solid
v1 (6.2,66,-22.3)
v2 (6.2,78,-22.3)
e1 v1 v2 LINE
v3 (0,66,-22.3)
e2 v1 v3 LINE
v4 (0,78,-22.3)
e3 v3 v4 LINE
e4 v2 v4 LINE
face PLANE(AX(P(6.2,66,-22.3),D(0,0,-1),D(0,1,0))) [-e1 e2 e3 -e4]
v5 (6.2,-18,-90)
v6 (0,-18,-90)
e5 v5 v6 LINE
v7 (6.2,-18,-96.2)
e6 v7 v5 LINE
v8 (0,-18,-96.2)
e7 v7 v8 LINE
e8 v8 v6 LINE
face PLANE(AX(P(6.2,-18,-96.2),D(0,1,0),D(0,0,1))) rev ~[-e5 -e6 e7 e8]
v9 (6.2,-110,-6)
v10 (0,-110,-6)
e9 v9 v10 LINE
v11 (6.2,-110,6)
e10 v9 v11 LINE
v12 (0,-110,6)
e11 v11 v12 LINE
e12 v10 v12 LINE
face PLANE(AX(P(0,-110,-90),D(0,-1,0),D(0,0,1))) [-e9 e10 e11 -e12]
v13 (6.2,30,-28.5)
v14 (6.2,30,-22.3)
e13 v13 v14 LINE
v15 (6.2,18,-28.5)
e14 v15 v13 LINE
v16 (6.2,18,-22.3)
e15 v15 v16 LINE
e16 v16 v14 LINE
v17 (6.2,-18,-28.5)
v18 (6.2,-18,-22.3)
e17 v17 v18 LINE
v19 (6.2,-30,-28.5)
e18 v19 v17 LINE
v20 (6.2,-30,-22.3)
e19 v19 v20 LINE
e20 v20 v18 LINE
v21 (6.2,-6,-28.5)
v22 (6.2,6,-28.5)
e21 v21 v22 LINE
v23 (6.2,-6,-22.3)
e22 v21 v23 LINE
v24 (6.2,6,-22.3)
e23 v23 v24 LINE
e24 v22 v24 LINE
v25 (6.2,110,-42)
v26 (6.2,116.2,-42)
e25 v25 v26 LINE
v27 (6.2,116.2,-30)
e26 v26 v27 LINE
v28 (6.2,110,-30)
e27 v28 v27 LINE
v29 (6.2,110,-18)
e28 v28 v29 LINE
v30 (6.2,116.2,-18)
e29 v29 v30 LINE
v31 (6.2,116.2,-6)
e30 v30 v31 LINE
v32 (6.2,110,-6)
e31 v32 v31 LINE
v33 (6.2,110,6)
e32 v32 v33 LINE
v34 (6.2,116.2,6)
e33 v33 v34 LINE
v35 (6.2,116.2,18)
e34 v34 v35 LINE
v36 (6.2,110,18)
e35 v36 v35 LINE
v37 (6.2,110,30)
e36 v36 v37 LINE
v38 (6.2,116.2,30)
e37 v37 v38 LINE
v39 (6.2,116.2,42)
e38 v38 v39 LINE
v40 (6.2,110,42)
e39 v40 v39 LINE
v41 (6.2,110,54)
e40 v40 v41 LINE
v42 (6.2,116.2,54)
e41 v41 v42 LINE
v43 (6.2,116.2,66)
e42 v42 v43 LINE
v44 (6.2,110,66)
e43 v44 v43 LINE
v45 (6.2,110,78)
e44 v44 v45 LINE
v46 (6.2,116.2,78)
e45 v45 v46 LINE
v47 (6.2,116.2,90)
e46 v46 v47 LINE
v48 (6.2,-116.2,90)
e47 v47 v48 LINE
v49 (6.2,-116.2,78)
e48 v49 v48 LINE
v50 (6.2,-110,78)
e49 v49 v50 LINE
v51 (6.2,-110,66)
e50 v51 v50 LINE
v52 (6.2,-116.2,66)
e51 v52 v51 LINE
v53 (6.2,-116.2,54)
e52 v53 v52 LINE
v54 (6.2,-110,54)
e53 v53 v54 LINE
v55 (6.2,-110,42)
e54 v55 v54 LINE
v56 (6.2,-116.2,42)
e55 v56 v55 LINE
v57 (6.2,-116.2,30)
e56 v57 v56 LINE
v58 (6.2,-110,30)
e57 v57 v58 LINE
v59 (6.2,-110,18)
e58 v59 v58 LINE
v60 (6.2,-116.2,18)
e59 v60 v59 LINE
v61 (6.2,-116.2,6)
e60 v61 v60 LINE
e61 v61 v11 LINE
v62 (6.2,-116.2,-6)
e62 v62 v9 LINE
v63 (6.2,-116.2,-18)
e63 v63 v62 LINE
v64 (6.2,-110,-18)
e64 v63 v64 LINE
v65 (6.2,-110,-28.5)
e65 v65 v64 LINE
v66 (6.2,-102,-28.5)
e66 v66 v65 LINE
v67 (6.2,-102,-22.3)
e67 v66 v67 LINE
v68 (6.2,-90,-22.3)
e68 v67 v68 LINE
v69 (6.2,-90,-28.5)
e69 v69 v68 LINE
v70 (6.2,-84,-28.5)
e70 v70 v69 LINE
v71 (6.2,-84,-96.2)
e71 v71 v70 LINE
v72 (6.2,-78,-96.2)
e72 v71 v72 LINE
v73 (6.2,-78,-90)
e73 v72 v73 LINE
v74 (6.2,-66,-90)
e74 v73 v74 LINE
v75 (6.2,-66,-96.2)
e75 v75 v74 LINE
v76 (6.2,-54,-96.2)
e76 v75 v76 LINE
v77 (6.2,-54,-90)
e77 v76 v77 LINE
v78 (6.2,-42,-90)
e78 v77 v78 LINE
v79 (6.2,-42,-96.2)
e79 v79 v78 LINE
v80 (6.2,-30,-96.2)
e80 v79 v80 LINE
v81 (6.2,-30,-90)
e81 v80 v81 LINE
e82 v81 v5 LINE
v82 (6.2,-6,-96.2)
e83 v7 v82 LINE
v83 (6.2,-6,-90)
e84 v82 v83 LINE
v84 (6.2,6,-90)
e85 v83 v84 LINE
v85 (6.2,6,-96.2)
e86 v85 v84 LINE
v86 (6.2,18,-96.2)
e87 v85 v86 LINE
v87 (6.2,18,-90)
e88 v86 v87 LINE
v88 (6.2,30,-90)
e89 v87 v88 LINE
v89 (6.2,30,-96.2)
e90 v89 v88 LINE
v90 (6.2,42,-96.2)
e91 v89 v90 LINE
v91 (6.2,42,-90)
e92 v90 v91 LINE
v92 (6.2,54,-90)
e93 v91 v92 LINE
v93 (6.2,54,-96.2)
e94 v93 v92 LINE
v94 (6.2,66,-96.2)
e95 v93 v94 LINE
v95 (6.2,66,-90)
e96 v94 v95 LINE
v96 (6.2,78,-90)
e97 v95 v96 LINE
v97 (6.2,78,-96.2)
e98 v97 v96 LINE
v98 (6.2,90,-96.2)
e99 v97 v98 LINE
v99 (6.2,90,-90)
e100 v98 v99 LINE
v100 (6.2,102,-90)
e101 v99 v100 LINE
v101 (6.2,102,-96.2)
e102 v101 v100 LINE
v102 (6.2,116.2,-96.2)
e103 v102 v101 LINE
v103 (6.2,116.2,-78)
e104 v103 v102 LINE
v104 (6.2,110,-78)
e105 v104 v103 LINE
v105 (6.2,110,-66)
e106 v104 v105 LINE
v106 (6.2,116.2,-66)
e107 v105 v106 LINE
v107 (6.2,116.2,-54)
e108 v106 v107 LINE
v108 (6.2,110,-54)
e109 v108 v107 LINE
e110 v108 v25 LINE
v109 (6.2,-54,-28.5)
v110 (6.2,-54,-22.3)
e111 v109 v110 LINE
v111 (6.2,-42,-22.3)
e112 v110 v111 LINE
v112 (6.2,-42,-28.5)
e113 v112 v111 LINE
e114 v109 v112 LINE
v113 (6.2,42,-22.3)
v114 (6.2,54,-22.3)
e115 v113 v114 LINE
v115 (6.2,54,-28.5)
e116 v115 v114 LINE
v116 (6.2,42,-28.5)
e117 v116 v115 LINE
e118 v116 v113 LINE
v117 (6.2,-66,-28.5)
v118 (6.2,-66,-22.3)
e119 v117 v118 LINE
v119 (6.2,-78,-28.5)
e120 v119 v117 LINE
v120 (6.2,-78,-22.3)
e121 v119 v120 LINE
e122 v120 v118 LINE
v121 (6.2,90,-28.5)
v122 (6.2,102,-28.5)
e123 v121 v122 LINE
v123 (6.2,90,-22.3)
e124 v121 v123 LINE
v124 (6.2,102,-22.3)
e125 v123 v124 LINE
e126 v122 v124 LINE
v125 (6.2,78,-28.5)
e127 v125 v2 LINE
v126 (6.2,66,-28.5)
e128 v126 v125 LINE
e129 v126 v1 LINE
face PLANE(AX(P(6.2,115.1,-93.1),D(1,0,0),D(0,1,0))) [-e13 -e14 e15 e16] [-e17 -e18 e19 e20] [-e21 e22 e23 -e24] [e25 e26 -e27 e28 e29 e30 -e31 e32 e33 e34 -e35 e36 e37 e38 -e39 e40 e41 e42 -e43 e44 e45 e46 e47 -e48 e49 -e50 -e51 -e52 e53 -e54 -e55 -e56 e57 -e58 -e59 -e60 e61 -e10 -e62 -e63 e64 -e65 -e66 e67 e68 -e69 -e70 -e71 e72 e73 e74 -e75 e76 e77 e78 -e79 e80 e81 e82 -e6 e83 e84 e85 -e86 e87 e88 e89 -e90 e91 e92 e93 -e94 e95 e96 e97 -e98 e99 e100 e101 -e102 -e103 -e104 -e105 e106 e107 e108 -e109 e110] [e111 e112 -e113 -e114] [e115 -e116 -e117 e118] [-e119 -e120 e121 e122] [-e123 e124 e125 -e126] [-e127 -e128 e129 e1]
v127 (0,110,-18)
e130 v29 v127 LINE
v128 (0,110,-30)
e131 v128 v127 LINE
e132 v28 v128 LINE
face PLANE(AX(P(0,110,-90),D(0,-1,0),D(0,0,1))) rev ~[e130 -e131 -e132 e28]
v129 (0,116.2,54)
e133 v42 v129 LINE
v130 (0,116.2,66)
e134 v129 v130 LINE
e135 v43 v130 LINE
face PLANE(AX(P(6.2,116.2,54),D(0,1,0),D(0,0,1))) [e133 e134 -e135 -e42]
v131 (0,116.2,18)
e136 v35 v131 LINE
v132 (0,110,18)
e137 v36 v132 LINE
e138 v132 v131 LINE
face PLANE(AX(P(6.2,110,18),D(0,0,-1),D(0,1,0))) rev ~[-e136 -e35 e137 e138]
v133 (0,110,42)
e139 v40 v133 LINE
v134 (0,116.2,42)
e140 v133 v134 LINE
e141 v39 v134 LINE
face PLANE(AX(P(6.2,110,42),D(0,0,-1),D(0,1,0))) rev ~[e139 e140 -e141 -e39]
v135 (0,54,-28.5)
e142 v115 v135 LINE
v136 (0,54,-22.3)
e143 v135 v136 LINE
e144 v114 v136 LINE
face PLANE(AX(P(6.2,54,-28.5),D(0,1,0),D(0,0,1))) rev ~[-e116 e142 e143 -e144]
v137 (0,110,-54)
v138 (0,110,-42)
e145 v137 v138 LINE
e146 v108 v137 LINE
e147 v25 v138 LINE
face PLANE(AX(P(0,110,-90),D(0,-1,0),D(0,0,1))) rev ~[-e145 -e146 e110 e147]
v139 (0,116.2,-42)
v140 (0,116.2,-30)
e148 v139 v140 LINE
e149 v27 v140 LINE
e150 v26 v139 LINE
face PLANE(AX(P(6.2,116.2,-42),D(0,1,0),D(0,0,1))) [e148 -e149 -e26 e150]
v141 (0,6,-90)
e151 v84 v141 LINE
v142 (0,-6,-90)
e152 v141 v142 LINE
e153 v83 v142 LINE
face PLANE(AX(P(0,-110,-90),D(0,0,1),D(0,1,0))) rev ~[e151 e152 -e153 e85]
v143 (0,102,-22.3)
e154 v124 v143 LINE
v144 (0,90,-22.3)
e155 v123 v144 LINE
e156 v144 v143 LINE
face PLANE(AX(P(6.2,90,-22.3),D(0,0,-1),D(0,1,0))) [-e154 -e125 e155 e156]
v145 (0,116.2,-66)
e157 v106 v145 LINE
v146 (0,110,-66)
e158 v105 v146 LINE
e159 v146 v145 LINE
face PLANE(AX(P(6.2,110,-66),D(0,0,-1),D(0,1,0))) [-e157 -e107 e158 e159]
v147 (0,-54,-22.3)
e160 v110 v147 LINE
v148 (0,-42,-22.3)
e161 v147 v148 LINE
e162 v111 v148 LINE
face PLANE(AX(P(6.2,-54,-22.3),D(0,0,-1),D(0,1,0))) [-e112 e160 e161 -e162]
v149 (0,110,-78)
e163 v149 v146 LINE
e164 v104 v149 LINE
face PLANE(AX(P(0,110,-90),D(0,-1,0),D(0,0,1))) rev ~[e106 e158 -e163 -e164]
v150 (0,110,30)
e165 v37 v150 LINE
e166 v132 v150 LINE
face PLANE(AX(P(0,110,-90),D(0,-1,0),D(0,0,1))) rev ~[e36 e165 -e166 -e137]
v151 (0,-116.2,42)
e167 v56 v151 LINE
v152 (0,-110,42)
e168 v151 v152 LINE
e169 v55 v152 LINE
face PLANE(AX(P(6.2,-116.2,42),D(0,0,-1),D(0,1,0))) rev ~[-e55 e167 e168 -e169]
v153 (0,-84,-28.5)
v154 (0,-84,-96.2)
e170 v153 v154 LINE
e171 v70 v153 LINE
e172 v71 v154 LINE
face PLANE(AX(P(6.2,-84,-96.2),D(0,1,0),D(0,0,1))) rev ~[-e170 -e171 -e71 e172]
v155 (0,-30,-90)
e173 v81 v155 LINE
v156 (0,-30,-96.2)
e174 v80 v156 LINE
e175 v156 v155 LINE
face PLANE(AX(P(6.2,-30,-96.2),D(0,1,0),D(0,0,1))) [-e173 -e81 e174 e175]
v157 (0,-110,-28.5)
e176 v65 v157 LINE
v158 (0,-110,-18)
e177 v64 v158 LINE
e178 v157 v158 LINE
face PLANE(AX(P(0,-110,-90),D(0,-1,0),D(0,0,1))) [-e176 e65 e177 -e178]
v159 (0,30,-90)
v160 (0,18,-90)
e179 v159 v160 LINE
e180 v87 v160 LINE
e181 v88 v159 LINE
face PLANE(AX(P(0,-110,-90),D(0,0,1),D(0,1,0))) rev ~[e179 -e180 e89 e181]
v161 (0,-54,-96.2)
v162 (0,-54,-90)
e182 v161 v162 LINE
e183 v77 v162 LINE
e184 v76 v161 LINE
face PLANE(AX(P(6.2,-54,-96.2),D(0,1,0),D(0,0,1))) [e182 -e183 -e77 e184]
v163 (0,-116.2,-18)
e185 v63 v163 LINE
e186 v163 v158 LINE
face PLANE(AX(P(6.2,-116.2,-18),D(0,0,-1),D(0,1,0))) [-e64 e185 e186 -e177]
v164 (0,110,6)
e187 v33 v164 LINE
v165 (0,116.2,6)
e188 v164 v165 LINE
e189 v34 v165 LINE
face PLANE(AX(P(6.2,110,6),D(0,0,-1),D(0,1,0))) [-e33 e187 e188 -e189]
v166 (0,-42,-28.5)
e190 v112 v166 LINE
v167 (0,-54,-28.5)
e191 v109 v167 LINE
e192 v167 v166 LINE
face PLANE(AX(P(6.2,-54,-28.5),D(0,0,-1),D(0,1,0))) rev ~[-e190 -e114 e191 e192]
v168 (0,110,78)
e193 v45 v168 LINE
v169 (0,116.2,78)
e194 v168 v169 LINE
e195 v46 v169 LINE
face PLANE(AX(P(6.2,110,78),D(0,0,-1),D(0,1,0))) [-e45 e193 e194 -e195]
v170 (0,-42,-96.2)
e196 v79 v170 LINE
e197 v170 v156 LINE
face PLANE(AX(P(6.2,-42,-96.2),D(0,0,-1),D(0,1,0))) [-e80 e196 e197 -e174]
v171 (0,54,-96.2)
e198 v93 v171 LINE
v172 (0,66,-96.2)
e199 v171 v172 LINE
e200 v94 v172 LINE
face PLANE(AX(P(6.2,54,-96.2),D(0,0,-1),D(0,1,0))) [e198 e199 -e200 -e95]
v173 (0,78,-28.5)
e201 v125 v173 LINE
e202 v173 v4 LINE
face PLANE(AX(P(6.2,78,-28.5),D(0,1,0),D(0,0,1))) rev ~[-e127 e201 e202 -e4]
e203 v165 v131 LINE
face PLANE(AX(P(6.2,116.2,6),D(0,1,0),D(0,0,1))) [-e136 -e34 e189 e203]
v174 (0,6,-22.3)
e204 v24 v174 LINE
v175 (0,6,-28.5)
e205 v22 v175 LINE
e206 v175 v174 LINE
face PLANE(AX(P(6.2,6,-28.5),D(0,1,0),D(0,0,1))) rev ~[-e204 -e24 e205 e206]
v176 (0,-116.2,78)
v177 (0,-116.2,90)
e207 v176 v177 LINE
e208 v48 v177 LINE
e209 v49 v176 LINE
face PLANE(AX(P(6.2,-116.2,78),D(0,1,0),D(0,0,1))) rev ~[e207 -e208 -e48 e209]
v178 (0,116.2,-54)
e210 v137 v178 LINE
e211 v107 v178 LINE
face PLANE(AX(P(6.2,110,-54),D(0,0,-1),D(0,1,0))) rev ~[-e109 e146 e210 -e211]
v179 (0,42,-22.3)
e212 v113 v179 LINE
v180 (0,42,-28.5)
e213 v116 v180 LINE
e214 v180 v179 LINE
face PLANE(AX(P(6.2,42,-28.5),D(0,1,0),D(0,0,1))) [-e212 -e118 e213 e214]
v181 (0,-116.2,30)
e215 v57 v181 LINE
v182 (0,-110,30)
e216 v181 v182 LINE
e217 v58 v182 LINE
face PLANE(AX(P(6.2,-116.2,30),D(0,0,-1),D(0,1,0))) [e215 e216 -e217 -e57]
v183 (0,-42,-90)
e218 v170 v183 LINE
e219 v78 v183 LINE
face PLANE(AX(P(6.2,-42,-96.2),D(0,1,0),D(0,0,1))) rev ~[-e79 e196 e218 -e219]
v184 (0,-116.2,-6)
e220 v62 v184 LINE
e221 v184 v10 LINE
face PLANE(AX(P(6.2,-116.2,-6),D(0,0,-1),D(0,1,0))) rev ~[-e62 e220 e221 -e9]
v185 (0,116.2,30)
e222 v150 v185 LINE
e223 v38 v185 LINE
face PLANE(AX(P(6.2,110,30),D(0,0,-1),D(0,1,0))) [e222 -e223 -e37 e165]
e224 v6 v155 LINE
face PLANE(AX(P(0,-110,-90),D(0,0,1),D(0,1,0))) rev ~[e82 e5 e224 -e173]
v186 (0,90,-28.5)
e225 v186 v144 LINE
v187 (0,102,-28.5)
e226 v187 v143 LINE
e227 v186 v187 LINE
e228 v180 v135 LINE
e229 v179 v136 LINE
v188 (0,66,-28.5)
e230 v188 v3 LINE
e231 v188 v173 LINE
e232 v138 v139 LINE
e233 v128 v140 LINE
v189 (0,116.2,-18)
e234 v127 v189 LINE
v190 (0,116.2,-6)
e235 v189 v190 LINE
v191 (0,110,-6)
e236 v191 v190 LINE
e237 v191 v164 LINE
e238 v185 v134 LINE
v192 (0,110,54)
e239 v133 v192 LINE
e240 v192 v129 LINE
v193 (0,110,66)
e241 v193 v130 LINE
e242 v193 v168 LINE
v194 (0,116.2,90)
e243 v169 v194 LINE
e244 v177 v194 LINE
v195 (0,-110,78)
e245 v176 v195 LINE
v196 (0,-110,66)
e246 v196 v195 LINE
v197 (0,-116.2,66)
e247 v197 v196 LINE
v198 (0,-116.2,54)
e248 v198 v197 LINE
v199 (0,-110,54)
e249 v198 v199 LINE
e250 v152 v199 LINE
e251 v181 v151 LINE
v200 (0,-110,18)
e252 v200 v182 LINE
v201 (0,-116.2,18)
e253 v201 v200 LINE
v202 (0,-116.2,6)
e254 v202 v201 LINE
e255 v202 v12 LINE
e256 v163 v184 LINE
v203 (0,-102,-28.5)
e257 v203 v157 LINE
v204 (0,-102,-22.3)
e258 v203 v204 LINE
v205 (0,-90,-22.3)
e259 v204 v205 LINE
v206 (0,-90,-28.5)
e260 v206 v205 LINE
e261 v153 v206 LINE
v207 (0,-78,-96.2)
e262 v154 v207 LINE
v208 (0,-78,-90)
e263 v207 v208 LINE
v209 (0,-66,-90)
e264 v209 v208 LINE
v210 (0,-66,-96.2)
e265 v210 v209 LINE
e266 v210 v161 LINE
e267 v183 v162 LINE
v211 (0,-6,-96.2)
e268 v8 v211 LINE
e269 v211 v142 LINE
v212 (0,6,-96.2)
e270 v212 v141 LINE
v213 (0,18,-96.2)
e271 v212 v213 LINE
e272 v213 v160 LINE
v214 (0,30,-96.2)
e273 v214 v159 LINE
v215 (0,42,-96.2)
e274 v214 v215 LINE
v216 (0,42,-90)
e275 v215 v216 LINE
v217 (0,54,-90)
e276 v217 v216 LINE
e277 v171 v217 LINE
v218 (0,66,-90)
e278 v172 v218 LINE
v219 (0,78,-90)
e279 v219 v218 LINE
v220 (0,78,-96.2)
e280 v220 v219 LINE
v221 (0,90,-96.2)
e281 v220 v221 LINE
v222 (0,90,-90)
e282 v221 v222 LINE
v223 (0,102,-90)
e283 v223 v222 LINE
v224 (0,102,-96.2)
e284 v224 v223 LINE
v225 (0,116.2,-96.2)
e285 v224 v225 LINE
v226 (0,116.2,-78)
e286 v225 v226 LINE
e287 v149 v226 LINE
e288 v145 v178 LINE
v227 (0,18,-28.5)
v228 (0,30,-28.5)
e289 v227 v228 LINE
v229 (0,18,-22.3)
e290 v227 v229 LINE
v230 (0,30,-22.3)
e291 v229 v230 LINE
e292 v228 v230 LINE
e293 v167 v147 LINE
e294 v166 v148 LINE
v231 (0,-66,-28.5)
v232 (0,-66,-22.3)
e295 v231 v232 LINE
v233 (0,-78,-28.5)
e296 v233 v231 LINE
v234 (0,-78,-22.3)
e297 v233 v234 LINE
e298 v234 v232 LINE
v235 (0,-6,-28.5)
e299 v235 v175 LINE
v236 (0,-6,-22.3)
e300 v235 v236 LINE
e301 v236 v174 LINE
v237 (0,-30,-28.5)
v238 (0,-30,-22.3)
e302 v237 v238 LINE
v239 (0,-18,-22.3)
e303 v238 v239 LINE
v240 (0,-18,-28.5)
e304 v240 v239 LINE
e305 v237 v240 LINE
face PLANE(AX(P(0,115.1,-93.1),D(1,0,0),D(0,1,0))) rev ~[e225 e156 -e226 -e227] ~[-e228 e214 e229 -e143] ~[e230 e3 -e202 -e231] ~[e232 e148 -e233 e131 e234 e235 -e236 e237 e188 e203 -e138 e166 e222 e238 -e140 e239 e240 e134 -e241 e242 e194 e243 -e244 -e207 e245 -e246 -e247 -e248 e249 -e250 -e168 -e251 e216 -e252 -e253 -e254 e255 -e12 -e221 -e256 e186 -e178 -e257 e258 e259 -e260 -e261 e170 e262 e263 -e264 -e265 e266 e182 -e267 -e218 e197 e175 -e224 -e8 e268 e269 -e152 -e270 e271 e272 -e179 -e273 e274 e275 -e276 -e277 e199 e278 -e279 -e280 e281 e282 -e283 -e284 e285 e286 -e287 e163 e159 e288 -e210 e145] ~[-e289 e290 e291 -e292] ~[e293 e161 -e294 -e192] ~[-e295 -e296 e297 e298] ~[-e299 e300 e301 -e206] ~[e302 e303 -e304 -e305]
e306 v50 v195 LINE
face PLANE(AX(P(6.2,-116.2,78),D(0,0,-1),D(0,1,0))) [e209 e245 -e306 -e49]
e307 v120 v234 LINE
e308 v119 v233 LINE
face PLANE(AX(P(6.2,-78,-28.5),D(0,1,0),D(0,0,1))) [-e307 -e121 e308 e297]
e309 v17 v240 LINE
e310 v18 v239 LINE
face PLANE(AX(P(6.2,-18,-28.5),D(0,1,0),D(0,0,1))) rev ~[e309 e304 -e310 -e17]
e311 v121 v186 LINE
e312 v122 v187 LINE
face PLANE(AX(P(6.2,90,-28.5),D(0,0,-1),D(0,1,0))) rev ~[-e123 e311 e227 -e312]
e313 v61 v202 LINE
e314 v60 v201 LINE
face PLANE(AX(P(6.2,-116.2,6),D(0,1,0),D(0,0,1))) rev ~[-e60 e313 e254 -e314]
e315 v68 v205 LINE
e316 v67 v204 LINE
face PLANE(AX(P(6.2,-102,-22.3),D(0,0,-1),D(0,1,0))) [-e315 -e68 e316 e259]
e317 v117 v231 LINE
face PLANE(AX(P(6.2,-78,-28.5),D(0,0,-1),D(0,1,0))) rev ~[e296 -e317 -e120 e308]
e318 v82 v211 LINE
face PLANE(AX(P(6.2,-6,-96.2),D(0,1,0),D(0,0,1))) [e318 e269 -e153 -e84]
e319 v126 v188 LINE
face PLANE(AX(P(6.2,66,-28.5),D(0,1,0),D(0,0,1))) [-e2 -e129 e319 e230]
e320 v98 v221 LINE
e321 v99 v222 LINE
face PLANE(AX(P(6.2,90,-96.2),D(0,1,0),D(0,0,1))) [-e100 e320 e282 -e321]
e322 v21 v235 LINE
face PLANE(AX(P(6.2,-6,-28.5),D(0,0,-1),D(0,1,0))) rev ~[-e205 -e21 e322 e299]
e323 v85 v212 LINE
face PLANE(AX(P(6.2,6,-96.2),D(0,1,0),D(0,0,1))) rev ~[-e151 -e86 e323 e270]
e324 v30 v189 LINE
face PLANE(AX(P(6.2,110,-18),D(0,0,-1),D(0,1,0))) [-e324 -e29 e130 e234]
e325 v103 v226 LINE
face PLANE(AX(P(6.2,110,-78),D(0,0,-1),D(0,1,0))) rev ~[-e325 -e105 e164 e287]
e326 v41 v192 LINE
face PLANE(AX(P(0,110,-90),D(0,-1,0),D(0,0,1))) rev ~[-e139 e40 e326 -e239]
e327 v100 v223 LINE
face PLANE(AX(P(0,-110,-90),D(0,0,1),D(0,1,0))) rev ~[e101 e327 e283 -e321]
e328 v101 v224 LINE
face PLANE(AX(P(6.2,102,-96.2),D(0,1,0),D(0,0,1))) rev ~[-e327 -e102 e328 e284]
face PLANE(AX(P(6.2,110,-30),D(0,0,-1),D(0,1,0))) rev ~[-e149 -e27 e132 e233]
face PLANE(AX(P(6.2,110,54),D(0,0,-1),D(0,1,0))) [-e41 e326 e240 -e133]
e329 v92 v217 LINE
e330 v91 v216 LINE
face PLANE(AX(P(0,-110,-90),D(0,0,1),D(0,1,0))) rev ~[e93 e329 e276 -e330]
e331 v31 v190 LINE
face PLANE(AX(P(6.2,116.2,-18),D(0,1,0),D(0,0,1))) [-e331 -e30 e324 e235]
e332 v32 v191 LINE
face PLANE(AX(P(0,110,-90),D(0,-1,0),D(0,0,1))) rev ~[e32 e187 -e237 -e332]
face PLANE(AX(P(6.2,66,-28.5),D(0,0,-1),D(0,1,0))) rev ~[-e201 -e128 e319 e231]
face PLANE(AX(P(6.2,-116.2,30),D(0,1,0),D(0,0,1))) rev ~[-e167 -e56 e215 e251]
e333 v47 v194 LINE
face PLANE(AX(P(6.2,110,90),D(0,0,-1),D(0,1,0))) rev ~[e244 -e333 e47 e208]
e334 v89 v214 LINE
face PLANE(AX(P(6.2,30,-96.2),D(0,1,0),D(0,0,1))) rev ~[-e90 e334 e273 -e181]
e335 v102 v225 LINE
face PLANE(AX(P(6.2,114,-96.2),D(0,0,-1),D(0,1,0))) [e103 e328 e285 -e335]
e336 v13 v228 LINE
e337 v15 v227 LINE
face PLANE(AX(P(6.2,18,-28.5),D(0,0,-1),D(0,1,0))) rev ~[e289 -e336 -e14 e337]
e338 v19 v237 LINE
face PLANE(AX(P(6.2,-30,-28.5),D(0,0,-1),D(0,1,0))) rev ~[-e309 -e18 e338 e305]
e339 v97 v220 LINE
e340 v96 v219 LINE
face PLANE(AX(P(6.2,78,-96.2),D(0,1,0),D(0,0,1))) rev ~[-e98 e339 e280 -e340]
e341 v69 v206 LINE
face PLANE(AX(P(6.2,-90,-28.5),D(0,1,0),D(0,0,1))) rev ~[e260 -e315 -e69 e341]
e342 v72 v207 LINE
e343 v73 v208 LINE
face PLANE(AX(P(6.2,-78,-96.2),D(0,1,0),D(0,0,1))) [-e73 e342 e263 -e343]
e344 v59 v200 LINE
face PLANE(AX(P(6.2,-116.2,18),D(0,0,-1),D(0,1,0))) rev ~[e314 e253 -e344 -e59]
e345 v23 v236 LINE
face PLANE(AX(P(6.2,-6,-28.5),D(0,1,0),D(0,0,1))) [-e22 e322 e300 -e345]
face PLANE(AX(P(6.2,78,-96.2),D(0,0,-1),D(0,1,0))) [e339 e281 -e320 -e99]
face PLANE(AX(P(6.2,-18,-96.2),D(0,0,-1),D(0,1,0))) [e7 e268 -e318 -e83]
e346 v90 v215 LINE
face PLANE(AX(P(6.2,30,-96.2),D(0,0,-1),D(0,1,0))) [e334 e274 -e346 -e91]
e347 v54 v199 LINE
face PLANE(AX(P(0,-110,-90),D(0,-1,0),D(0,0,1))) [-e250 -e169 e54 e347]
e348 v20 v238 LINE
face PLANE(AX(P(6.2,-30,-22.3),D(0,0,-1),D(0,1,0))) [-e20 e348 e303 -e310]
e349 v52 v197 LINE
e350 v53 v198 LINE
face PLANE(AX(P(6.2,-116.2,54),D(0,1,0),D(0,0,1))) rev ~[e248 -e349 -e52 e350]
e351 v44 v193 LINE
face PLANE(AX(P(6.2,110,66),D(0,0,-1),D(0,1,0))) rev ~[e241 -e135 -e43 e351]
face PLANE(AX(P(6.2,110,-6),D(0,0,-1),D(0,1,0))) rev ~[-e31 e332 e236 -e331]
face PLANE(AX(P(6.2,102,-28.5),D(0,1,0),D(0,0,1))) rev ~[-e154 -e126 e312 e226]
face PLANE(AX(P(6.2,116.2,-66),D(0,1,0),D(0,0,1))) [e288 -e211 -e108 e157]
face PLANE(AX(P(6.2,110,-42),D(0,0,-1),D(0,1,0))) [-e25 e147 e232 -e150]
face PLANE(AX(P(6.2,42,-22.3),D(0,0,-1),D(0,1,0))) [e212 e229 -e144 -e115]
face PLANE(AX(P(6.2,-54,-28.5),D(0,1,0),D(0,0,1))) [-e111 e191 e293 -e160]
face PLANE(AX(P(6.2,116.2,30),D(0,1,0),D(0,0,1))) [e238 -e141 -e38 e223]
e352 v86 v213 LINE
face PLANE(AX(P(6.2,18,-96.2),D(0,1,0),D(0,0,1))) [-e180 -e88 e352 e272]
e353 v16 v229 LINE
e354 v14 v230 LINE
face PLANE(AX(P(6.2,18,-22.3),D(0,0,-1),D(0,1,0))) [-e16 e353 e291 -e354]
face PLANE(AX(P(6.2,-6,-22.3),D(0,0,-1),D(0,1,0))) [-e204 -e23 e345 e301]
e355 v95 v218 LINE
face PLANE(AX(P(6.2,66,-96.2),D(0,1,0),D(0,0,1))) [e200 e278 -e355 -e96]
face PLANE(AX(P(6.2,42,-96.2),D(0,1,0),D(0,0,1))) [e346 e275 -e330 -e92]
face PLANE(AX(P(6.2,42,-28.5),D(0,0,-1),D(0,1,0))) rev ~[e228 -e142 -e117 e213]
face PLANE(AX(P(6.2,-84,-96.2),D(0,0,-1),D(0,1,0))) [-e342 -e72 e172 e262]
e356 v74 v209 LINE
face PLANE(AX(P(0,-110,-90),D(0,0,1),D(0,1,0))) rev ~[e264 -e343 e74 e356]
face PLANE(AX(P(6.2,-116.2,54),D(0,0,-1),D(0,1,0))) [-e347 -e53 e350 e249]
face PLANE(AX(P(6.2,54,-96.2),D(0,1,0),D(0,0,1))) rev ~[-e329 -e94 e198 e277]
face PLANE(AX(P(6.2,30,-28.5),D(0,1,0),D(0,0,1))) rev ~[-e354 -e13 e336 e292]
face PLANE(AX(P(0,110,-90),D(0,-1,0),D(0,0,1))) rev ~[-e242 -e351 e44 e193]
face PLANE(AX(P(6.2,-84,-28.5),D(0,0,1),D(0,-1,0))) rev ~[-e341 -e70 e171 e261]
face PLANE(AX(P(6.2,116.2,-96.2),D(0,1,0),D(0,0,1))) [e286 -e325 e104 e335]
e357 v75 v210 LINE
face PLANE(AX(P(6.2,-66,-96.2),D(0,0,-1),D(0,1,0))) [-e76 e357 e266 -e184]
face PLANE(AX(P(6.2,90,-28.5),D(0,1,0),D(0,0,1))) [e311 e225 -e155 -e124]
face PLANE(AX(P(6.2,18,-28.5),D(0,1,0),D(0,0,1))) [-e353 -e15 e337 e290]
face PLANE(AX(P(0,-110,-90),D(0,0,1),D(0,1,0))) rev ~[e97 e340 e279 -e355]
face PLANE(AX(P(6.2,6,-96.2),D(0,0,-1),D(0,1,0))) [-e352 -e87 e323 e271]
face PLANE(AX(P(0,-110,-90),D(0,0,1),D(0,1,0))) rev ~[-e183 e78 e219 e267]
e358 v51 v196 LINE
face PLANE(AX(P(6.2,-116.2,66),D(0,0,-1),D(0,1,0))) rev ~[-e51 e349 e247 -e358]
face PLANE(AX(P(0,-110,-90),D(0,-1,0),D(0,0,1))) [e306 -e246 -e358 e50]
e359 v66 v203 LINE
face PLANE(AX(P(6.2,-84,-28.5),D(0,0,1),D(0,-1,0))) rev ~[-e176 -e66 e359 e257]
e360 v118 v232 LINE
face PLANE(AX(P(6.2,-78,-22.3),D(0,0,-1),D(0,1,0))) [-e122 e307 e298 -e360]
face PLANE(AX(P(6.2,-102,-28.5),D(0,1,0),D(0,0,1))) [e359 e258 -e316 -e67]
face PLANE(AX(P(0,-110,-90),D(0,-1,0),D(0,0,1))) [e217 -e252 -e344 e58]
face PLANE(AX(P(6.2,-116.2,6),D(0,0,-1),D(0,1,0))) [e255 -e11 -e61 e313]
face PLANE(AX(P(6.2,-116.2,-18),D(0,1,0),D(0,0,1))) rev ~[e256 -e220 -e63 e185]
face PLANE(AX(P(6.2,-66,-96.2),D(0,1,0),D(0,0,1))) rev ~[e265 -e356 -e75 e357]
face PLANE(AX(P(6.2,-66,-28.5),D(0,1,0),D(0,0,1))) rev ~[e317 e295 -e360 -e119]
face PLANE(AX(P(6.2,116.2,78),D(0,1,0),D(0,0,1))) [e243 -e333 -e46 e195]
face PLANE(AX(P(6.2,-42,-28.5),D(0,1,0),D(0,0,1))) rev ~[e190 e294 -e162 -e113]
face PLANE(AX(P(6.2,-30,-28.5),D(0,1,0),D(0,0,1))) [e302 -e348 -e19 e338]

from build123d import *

# Parameters (mm, degrees)
F0_W      = 220
F0_H      = 180
F1_DEPTH  = 6.2
F2_W      = 12
F2_H      = 6.2
F3_DEPTH  = 6.201
F5_DEPTH  = 6.201
F6_W      = 6.2
F6_H      = 12
F7_DEPTH  = 6.2
F8_W      = 6
F8_H      = 6.2
F8_W_2    = 12
F9_DEPTH  = 6.2
F10_W     = 2.2
F10_H     = 6.2
F11_DEPTH = 6.2


with BuildPart() as f1:
    # F0 (on Right) → F1 (new body)
    with BuildSketch(Plane.YZ):
        Rectangle(F0_W, F0_H)
    extrude(amount=F1_DEPTH)

    # F2 (on face) → F3 (cut, through all)
    with BuildSketch(Plane.YZ.offset(6.2)):
        with Locations((-96, -25.4)):
            Rectangle(F2_W, F2_H)
        with Locations((-72, -25.4)):
            Rectangle(F2_W, F2_H)
        with Locations((-48, -25.4)):
            Rectangle(F2_W, F2_H)
        with Locations((-24, -25.4)):
            Rectangle(F2_W, F2_H)
        with Locations((0, -25.4)):
            Rectangle(F2_W, F2_H)
        with Locations((24, -25.4)):
            Rectangle(F2_W, F2_H)
        with Locations((48, -25.4)):
            Rectangle(F2_W, F2_H)
        with Locations((72, -25.4)):
            Rectangle(F2_W, F2_H)
        with Locations((96, -25.4)):
            Rectangle(F2_W, F2_H)
    extrude(amount=-F3_DEPTH, mode=Mode.SUBTRACT)

    # F4 (on face) → F5 (cut, through all)
    with BuildSketch(Plane.YZ.offset(6.2)):
        Polygon((-84, -90), (-84, -28.5), (-90, -28.5), (-102, -28.5), (-110, -28.5), (-110, -90), align=None)
    extrude(amount=-F5_DEPTH, mode=Mode.SUBTRACT)

    # F6 (on face) → F7 (join)
    with BuildSketch(Plane.YZ.offset(6.2)):
        with Locations((113.1, 12)):
            Rectangle(F6_W, F6_H)
        with Locations((113.1, 36)):
            Rectangle(F6_W, F6_H)
        with Locations((113.1, 60)):
            Rectangle(F6_W, F6_H)
        with Locations((113.1, 84)):
            Rectangle(F6_W, F6_H)
        with Locations((113.1, -12)):
            Rectangle(F6_W, F6_H)
        with Locations((113.1, -36)):
            Rectangle(F6_W, F6_H)
        with Locations((113.1, -60)):
            Rectangle(F6_W, F6_H)
        with Locations((113.1, -84)):
            Rectangle(F6_W, F6_H)
        with Locations((-113.1, 12)):
            Rectangle(F6_W, F6_H)
        with Locations((-113.1, -12)):
            Rectangle(F6_W, F6_H)
        with Locations((-113.1, 36)):
            Rectangle(F6_W, F6_H)
        with Locations((-113.1, 84)):
            Rectangle(F6_W, F6_H)
        with Locations((-113.1, 60)):
            Rectangle(F6_W, F6_H)
    extrude(amount=-F7_DEPTH)

    # F8 (on face) → F9 (join)
    with BuildSketch(Plane.YZ.offset(6.2)):
        with Locations((-81, -93.1)):
            Rectangle(F8_W, F8_H)
        with Locations((-60, -93.1)):
            Rectangle(F8_W_2, F8_H)
        with Locations((-36, -93.1)):
            Rectangle(F8_W_2, F8_H)
        with Locations((-12, -93.1)):
            Rectangle(F8_W_2, F8_H)
        with Locations((12, -93.1)):
            Rectangle(F8_W_2, F8_H)
        with Locations((36, -93.1)):
            Rectangle(F8_W_2, F8_H)
        with Locations((60, -93.1)):
            Rectangle(F8_W_2, F8_H)
        with Locations((84, -93.1)):
            Rectangle(F8_W_2, F8_H)
        with Locations((108, -93.1)):
            Rectangle(F8_W_2, F8_H)
    extrude(amount=-F9_DEPTH)

    # F10 (on face) → F11 (join)
    with BuildSketch(Plane.YZ.offset(6.2)):
        with Locations((115.1, -93.1)):
            Rectangle(F10_W, F10_H)
    extrude(amount=-F11_DEPTH)


solid = f1.part
